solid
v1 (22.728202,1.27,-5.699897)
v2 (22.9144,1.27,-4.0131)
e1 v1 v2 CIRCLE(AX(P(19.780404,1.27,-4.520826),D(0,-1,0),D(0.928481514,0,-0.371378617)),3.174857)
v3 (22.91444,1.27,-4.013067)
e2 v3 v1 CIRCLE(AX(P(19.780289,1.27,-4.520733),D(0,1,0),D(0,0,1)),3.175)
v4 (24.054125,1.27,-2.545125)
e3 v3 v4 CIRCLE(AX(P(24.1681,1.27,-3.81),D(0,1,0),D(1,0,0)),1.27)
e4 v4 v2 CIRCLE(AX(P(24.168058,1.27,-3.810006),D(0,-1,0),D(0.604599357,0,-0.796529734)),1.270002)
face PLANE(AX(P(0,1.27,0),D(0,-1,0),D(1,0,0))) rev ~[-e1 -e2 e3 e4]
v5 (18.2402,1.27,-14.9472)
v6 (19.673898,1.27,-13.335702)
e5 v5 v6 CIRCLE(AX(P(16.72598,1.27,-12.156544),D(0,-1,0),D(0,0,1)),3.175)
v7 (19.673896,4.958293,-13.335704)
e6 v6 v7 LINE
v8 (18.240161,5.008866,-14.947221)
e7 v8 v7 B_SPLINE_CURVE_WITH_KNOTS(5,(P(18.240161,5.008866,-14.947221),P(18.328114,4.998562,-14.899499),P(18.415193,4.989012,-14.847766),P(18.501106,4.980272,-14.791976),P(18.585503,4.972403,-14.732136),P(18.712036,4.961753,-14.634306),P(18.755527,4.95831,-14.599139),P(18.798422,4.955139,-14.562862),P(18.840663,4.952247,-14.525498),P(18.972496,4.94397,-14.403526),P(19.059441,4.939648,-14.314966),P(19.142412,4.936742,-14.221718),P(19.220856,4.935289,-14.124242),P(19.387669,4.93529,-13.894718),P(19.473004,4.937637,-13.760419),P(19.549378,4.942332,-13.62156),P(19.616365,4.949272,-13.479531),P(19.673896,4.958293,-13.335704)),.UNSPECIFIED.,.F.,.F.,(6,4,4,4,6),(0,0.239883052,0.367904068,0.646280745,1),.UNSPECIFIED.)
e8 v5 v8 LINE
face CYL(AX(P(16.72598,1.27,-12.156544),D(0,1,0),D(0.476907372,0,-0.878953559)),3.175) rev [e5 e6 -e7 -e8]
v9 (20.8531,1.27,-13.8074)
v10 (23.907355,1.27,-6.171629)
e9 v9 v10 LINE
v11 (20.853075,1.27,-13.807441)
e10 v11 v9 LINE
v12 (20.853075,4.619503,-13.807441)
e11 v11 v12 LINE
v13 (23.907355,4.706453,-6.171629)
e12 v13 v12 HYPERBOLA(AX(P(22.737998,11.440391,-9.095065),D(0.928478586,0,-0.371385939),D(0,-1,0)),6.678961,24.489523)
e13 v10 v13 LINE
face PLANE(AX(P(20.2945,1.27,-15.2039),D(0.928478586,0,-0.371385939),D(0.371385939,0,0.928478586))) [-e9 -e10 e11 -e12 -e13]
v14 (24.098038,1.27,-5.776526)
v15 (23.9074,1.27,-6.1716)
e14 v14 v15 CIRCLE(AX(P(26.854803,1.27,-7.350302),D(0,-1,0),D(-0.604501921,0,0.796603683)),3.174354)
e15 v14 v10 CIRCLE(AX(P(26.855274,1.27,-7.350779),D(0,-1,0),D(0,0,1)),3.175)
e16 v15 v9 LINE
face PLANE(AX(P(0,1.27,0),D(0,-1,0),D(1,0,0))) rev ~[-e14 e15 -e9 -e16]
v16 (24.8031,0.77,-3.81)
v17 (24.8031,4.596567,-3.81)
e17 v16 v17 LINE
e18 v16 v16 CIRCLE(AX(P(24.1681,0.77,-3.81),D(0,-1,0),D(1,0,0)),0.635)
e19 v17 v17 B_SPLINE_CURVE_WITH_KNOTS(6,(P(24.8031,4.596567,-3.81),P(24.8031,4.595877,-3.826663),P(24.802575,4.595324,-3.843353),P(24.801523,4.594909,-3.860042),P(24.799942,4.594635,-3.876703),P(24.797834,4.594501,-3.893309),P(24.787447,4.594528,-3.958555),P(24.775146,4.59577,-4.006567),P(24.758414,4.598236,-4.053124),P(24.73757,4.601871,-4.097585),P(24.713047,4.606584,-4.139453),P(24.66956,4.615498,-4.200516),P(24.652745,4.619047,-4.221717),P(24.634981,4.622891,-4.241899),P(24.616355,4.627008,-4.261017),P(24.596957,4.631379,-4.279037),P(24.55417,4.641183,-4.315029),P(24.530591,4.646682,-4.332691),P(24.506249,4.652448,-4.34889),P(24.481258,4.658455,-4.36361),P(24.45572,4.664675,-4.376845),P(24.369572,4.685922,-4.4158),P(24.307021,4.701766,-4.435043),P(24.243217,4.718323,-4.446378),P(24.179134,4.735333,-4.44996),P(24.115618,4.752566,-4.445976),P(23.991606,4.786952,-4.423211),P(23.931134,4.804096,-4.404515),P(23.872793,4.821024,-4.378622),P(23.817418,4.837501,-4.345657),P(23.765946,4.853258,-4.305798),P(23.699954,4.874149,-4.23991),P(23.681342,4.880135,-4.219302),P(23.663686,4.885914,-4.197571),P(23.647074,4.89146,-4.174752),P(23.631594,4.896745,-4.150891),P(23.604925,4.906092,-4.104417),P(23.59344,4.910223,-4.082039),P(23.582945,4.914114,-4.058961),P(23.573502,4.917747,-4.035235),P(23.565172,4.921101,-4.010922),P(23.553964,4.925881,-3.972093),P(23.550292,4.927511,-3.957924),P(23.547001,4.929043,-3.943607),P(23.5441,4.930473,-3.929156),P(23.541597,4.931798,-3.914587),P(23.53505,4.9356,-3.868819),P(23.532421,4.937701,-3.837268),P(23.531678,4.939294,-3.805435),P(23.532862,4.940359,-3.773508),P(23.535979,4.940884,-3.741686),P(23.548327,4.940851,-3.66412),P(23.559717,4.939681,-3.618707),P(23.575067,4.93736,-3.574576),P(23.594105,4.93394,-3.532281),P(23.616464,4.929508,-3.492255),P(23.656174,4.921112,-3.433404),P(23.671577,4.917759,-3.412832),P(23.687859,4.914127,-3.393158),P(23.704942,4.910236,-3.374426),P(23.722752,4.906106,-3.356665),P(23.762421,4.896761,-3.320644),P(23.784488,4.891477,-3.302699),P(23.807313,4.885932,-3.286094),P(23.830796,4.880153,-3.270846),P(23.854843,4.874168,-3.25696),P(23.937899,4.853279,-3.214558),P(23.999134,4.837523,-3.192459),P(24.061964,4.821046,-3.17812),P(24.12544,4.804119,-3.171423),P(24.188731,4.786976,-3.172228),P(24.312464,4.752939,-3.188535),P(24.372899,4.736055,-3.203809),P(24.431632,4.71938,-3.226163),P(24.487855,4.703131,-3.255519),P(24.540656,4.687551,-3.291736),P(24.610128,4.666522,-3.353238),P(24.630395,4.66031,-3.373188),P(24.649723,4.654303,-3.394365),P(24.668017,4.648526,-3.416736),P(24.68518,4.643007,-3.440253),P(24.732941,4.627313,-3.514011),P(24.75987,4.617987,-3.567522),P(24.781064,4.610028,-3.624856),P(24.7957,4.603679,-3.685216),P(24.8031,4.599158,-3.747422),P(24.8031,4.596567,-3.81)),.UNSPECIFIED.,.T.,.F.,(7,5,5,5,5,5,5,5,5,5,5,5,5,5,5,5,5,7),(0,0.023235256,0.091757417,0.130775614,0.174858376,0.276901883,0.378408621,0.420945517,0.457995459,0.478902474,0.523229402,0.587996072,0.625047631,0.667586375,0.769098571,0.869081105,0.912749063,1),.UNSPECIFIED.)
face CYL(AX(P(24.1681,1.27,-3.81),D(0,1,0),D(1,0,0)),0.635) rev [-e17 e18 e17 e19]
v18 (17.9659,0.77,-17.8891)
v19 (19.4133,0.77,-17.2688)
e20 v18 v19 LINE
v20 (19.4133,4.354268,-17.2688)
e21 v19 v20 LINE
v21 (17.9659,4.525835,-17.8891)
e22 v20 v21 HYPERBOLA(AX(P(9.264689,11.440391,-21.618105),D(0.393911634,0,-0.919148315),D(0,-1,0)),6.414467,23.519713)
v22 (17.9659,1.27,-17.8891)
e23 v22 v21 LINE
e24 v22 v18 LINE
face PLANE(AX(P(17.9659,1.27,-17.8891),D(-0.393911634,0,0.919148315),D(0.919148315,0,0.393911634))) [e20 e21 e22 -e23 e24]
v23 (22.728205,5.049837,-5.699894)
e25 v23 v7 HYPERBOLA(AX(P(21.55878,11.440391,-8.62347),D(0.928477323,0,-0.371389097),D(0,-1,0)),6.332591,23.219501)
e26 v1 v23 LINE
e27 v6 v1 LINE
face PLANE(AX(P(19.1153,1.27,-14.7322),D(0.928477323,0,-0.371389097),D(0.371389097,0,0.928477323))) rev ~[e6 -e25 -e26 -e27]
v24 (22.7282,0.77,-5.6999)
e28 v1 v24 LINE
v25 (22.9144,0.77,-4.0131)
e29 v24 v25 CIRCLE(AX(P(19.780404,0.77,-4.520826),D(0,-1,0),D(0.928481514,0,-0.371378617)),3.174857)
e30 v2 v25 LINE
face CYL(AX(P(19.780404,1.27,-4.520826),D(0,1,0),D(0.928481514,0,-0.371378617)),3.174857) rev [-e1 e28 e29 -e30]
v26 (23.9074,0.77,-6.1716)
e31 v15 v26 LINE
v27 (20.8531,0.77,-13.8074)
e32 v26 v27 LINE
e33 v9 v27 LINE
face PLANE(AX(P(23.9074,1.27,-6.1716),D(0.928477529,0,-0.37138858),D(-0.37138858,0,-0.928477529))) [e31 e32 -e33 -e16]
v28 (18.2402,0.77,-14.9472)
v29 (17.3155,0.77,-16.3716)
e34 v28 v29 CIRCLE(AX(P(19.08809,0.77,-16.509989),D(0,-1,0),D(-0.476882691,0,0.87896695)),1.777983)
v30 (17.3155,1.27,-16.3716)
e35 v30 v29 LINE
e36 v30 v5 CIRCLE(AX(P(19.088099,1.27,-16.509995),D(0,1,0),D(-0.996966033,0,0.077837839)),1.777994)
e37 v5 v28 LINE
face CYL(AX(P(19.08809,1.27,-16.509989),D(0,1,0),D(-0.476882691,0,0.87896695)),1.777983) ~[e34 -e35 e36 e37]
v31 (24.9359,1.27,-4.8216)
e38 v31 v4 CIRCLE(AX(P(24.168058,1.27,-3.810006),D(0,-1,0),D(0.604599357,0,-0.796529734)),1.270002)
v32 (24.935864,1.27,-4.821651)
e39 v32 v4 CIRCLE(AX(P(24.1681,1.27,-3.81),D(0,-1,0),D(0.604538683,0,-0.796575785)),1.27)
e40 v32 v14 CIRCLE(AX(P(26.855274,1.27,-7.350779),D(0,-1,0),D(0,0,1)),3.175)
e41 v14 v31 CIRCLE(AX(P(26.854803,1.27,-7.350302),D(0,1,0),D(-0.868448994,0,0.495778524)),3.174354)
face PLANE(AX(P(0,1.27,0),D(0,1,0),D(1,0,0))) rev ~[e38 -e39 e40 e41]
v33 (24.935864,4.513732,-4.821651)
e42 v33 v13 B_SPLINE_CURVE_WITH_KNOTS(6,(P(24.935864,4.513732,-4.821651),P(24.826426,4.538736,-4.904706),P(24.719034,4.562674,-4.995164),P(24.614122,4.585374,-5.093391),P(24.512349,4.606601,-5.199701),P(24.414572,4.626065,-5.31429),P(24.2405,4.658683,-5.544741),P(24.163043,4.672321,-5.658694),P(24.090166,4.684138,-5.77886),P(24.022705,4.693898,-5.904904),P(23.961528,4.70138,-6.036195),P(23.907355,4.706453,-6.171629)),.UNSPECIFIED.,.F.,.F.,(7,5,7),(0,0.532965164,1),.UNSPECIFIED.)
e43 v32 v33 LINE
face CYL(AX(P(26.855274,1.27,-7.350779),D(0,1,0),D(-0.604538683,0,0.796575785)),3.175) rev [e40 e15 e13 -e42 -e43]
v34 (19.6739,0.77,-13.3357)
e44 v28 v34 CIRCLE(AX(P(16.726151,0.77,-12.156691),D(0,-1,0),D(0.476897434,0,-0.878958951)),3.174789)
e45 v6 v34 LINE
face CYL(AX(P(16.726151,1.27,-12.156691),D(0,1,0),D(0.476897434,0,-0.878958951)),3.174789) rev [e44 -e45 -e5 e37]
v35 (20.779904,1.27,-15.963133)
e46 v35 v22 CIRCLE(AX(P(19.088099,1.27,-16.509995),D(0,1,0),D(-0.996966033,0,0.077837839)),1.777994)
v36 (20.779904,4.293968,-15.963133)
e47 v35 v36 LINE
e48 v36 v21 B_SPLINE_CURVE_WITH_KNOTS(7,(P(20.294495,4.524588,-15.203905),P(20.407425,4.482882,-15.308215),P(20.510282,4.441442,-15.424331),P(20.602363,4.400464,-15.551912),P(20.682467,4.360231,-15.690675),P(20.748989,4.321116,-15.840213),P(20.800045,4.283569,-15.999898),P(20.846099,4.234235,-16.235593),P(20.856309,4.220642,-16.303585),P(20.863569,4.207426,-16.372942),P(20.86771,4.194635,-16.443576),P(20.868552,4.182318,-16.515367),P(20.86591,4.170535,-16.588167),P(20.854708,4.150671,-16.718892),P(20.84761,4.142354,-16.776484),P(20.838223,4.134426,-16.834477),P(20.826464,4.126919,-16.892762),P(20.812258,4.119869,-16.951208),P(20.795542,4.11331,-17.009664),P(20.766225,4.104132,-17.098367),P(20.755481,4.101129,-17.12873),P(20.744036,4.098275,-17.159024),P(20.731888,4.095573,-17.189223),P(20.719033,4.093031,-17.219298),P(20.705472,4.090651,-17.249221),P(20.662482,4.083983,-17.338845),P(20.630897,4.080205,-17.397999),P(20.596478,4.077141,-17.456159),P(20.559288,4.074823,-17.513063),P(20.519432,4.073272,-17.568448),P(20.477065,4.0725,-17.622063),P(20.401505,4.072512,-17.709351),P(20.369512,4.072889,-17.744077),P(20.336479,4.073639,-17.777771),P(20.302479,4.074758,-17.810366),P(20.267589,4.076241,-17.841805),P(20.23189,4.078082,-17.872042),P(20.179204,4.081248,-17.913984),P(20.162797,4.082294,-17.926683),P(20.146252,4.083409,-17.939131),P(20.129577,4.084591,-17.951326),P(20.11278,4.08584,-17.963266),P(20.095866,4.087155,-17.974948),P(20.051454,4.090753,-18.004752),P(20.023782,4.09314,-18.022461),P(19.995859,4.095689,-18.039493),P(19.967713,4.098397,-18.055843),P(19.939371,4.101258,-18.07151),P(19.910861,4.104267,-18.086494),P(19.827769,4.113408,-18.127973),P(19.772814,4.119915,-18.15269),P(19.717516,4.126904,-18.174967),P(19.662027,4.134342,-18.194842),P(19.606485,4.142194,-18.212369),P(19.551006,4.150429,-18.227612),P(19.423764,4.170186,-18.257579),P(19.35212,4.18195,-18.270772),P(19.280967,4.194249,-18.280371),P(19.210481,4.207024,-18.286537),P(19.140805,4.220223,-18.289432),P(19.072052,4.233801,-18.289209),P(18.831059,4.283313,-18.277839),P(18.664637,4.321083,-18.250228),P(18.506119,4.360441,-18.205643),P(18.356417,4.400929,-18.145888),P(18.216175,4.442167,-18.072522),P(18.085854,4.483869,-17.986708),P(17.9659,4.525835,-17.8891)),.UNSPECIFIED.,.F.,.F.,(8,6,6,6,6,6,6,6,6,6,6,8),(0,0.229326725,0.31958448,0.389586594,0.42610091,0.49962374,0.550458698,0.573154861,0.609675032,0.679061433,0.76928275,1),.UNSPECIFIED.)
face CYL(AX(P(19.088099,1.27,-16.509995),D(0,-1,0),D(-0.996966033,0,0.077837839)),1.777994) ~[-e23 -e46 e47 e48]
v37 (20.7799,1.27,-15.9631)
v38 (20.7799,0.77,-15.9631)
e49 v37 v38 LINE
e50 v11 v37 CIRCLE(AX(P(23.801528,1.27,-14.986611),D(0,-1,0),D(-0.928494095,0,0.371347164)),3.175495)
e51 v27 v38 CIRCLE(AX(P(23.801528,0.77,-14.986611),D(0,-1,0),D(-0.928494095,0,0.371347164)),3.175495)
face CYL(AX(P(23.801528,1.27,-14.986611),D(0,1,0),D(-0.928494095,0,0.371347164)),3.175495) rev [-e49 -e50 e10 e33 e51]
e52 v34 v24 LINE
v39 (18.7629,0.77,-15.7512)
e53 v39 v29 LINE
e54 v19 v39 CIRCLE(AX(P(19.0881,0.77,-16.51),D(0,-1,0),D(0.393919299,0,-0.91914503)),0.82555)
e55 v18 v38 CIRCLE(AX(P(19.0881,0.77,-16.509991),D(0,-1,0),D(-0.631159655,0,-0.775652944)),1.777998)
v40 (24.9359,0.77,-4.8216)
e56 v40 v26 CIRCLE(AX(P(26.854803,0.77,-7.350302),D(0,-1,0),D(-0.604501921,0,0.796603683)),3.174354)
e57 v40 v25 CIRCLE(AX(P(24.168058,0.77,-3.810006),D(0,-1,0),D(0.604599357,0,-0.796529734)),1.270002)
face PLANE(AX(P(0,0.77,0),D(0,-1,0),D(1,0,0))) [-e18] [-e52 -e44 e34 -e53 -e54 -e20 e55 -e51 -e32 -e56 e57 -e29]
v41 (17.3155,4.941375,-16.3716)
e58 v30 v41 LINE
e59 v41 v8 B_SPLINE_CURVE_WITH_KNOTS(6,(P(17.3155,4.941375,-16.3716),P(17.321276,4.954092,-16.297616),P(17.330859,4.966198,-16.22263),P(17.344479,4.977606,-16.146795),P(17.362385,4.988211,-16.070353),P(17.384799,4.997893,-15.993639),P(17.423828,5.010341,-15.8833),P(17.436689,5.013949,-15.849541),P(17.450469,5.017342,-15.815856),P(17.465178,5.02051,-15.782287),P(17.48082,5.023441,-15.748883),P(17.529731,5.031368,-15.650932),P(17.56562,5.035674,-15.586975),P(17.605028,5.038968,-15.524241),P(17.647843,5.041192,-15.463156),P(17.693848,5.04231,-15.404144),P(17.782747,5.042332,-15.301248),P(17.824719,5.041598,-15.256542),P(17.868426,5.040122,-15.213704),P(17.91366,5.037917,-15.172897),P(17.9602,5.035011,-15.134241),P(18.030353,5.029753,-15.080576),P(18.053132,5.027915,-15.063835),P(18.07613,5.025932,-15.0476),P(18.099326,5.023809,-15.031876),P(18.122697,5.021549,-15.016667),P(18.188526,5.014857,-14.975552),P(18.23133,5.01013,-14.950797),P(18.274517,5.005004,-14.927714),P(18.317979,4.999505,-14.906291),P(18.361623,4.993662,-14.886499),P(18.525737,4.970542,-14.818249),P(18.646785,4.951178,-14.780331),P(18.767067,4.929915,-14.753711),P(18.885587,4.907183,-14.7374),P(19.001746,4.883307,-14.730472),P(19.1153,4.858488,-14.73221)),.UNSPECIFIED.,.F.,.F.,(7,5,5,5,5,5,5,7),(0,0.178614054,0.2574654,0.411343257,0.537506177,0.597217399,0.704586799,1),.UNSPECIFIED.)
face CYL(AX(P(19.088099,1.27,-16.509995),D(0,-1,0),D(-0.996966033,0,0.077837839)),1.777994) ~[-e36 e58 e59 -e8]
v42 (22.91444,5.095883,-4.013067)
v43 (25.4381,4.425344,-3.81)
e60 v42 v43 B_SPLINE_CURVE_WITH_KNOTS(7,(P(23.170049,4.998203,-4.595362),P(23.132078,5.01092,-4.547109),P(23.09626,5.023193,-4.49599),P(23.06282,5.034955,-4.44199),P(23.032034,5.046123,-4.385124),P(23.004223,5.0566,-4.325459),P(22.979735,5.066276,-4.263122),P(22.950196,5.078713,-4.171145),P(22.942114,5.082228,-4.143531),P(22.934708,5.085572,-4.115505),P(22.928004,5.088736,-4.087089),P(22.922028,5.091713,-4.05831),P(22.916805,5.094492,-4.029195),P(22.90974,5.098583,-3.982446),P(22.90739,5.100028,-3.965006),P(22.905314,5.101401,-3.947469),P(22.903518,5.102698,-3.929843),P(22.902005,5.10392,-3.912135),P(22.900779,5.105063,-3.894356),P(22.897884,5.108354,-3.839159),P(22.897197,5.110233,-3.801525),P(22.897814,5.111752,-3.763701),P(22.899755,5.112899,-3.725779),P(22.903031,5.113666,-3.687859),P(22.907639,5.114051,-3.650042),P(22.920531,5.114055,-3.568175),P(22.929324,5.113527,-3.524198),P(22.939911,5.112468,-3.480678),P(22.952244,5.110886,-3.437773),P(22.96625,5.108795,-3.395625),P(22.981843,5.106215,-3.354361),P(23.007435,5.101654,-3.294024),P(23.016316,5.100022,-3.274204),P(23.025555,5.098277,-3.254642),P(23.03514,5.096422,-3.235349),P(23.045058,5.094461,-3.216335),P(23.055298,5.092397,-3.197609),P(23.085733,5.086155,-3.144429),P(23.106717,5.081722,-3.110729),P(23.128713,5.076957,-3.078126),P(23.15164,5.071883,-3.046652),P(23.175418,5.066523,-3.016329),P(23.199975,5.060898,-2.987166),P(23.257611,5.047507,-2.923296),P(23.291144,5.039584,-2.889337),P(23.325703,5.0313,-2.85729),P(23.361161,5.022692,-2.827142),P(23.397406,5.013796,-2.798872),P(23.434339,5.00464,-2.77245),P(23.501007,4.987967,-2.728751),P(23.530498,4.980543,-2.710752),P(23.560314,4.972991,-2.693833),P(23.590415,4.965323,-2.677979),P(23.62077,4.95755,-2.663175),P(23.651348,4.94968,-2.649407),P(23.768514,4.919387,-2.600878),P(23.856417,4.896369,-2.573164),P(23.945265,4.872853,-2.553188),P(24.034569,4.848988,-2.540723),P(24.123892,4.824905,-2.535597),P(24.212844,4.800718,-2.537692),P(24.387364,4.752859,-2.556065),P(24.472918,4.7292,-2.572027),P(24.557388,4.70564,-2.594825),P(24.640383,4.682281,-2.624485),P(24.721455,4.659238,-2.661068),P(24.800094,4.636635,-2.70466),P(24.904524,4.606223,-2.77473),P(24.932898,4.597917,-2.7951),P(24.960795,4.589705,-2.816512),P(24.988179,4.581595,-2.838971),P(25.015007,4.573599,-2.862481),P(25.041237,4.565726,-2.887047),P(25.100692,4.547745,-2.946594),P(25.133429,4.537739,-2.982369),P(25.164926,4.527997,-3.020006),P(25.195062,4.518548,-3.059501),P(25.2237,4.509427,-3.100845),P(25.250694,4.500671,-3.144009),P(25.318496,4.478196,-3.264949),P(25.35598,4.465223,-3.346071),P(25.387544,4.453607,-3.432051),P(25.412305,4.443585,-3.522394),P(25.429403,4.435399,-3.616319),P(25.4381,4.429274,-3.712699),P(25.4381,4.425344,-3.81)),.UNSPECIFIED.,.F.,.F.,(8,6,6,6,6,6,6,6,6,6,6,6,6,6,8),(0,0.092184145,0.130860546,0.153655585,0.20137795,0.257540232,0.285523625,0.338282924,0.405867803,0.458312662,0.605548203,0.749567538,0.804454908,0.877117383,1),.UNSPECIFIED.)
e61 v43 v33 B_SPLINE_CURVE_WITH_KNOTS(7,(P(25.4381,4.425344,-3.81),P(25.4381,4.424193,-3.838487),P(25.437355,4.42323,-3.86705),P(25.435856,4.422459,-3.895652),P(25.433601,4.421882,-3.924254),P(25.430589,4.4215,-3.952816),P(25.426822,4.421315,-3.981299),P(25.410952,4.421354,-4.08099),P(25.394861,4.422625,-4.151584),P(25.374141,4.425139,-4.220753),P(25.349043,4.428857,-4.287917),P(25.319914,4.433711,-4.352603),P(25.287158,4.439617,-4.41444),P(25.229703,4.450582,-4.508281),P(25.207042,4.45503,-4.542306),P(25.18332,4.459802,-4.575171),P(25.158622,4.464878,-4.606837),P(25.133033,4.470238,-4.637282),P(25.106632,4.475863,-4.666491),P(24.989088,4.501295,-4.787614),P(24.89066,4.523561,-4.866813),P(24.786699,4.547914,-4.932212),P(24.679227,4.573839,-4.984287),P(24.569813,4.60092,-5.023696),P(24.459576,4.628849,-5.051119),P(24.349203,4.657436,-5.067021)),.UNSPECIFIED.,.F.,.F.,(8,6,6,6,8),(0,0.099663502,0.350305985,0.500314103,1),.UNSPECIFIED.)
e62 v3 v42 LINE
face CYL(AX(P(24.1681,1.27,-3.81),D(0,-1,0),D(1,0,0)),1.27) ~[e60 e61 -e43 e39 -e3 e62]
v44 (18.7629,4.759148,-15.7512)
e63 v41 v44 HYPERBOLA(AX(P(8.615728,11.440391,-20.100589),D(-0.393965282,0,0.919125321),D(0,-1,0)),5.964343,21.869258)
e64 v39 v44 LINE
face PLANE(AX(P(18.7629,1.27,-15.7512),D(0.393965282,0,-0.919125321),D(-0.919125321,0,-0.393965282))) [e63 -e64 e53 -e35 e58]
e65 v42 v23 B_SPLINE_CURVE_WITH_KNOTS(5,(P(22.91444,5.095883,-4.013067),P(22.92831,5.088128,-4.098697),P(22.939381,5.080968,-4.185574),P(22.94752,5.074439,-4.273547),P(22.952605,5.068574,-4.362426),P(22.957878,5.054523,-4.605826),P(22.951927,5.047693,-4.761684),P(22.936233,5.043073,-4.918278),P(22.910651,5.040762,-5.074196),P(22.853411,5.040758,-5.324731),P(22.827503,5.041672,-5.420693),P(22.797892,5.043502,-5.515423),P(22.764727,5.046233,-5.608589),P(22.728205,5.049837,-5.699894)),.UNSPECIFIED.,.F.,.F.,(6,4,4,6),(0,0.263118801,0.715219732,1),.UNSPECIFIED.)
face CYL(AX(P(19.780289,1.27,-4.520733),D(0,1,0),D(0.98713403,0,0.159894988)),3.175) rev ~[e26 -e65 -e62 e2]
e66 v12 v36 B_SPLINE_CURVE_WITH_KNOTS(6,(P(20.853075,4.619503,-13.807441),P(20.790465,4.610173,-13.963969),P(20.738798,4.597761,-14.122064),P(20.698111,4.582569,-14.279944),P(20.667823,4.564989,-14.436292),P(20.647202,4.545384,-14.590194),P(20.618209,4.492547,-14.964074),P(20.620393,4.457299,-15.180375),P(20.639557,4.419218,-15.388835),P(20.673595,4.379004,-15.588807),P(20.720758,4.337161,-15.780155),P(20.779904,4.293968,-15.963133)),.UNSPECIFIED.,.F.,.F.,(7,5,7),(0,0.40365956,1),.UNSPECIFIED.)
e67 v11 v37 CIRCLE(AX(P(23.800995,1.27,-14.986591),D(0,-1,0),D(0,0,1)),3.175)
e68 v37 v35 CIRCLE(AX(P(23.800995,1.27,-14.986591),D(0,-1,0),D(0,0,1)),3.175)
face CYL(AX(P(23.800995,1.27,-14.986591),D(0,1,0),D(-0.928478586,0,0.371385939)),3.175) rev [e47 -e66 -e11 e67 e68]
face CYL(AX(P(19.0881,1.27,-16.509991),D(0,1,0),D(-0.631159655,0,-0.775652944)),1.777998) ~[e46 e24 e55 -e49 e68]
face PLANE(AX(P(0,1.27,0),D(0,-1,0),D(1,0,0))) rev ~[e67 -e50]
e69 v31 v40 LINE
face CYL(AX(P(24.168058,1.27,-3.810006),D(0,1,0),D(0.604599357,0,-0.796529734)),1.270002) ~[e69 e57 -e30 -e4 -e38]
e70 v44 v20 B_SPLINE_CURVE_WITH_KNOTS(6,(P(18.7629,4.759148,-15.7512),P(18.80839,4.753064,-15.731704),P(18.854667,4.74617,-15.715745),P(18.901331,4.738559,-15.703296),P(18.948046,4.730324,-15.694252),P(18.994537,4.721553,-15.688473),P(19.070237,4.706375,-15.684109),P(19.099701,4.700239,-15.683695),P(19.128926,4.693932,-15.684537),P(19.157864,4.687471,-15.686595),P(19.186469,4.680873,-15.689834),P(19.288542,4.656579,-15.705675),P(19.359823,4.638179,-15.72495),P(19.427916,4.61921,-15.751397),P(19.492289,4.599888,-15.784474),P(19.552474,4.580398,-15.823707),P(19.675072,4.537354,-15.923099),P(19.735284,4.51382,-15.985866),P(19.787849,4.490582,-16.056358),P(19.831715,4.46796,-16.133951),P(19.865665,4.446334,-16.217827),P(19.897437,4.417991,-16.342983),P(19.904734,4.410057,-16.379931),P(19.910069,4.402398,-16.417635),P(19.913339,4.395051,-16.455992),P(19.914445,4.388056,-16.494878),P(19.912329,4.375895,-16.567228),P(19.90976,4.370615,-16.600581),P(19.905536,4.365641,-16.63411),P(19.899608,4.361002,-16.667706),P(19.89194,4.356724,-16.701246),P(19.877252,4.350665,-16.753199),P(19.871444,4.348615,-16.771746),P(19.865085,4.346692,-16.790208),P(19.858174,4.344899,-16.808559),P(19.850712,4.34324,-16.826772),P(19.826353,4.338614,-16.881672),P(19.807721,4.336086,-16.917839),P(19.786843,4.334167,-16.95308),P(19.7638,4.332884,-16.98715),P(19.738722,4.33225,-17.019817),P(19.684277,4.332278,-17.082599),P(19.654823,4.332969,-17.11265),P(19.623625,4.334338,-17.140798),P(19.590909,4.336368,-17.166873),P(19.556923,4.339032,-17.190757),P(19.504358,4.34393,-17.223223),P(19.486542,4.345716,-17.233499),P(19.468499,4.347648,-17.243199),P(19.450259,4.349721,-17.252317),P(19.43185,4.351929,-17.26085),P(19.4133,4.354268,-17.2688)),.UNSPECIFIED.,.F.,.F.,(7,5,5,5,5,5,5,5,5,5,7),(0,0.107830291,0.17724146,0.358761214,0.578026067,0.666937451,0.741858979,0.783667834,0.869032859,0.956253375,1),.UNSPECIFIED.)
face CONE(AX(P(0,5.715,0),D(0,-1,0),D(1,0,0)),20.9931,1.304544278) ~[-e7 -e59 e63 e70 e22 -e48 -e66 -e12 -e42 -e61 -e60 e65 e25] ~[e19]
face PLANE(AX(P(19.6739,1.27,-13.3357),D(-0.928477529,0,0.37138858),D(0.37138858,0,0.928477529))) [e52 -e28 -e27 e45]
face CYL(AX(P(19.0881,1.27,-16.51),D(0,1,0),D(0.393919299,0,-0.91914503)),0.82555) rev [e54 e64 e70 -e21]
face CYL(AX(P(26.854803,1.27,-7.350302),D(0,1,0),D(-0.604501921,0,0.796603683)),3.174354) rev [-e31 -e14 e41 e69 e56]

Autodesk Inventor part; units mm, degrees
ref_plane "YZ Plane" through (0, 0, 0) normal (1, 0, 0) x (0, 1, 0)
ref_plane "XZ Plane" through (0, 0, 0) normal (0, 1, 0) x (-1, 0, 0)
sketch "Sketch1" plane through (0, 0, 0) normal (0, 0, 1) x (1, 0, 0)
  line L0 (0, 0) -> (0, 8.6646) construction
  line L1 (20.9931, 1.27) -> (20.9931, 5.715)
  line L2 (20.9931, 5.715) -> (27.9781, 3.81)
  line L3 (27.9781, 3.81) -> (27.9781, 0)
  line L4 (27.9781, 0) -> (20.9931, 0)
  line L5 (20.9931, 1.27) -> (18.4531, 1.27)
  line L6 (18.4531, 1.27) -> (18.4531, 0)
  line L7 (18.4531, 0) -> (20.9931, 0)
  dimension "d0" = 20.9931
  dimension "d1" = 4.445
  dimension "d2" = 1.27
  dimension "d3" = 2.54
  dimension "d4" = 3.81
  dimension "d5" = 6.985
revolve "Revolution1" add sketch "Sketch1" angle 360 about axis through (0, 0, 0) along (0, 1, 0)
ref_plane "Work Plane1" through (0, 3.81, 0) normal (0, 1, 0) x (1, 0, 0)
sketch "Sketch2" plane through (0, 0, 0) normal (0, -1, 0) x (1, 0, 0)
  line L0 (0, 0) -> (-45.8206, 0) construction
  circle A0 centre (0, 0) radius 27.9781 projected
  line L1 (-27.6227, 4.445) -> (-30.5181, 2.54)
  line L2 (-30.5181, 2.54) -> (-30.5181, -2.54)
  line L3 (-30.5181, -2.54) -> (-27.6227, -4.445)
  dimension "d7" = 2.54
  dimension "d8" = 8.89
  dimension "d9" = 5.08
extrude "Extrusion1" add sketch "Sketch2" against normal up to surface (3.81 mm away) contours A0 L3 L2 L1
pattern_circular "Circular Pattern1" count 12 over 360 about axis through (0, 1.905, 0) along (0, -1, 0) of "Extrusion1"
sketch "Sketch3" plane through (0, 1.27, 0) normal (0, 1, 0) x (1, 0, 0)
  circle A0 centre (0, 0) radius 18.4531 projected
  circle A1 centre (0, 0) radius 18.4531 projected
  circle A2 centre (0, 0) radius 20.9931 projected
  circle A3 centre (0, 0) radius 20.9931 projected
  arc A4 (-26.1445, 9.9619) -> (-27.6227, 4.445) centre (0, 0) ccw projected
  arc A5 (-27.6227, 4.445) -> (-27.6227, -4.445) centre (0, 0) ccw projected
  arc A6 (-27.6227, -4.445) -> (-26.1445, -9.9619) centre (0, 0) ccw projected
  arc A7 (-26.1445, -9.9619) -> (-21.6995, -17.6609) centre (0, 0) ccw projected
  arc A8 (-21.6995, -17.6609) -> (-17.6609, -21.6995) centre (0, 0) ccw projected
  arc A9 (-17.6609, -21.6995) -> (-9.9619, -26.1445) centre (0, 0) ccw projected
  arc A10 (-9.9619, -26.1445) -> (-4.445, -27.6227) centre (0, 0) ccw projected
  arc A11 (-4.445, -27.6227) -> (4.445, -27.6227) centre (0, 0) ccw projected
  arc A12 (4.445, -27.6227) -> (9.9619, -26.1445) centre (0, 0) ccw projected
  arc A13 (9.9619, -26.1445) -> (17.6609, -21.6995) centre (0, 0) ccw projected
  arc A14 (17.6609, -21.6995) -> (21.6995, -17.6609) centre (0, 0) ccw projected
  arc A15 (21.6995, -17.6609) -> (26.1445, -9.9619) centre (0, 0) ccw projected
  arc A16 (26.1445, -9.9619) -> (27.6227, -4.445) centre (0, 0) ccw projected
  arc A17 (27.6227, -4.445) -> (27.6227, 4.445) centre (0, 0) ccw projected
  arc A18 (27.6227, 4.445) -> (26.1445, 9.9619) centre (0, 0) ccw projected
  arc A19 (26.1445, 9.9619) -> (21.6995, 17.6609) centre (0, 0) ccw projected
  arc A20 (21.6995, 17.6609) -> (17.6609, 21.6995) centre (0, 0) ccw projected
  arc A21 (17.6609, 21.6995) -> (9.9619, 26.1445) centre (0, 0) ccw projected
  arc A22 (9.9619, 26.1445) -> (4.445, 27.6227) centre (0, 0) ccw projected
  arc A23 (4.445, 27.6227) -> (-4.445, 27.6227) centre (0, 0) ccw projected
  arc A24 (-4.445, 27.6227) -> (-9.9619, 26.1445) centre (0, 0) ccw projected
  arc A25 (-9.9619, 26.1445) -> (-17.6609, 21.6995) centre (0, 0) ccw projected
  arc A26 (-17.6609, 21.6995) -> (-21.6995, 17.6609) centre (0, 0) ccw projected
  arc A27 (-21.6995, 17.6609) -> (-26.1445, 9.9619) centre (0, 0) ccw projected
  circle A28 centre (0, 0) radius 22.8981
  spline S0 degree 2 poles (-20.4865, -10.8927) (-20.2314, -10.7347) (-20.0767, -10.9844) knots 0 0 0 1 1 1
  spline S1 degree 2 poles (-20.0767, -10.9844) (-19.9219, -11.2342) (-20.177, -11.3922) knots 0 0 0 1 1 1
  line L0 (-20.177, -11.3922) -> (-22.4984, -12.8306)
  line L1 (-22.4984, -12.8306) -> (-21.0657, -12.8234)
  spline S2 degree 2 poles (-21.0657, -12.8234) (-20.8353, -12.8371) (-20.7343, -13.0001) knots 0 0 0 1 1 1
  spline S3 degree 2 poles (-20.7343, -13.0001) (-20.6366, -13.1578) (-20.7235, -13.3463) knots 0 0 0 1 1 1
  line L2 (-20.7235, -13.3463) -> (-21.4078, -14.6436)
  line L3 (-21.4078, -14.6436) -> (-19.0627, -13.1905)
  spline S4 degree 2 poles (-19.0627, -13.1905) (-18.8077, -13.0325) (-18.6529, -13.2822) knots 0 0 0 1 1 1
  spline S5 degree 2 poles (-18.6529, -13.2822) (-18.4949, -13.5373) (-18.7499, -13.6953) knots 0 0 0 1 1 1
  line L4 (-18.7499, -13.6953) -> (-21.6577, -15.497)
  spline S6 degree 2 poles (-21.6577, -15.497) (-21.9259, -15.6631) (-22.0936, -15.3923) knots 0 0 0 1 1 1
  spline S7 degree 2 poles (-22.0936, -15.3923) (-22.2093, -15.2057) (-22.1246, -15.0076) knots 0 0 0 1 1 1
  line L5 (-22.1246, -15.0076) -> (-21.3965, -13.3994)
  line L6 (-21.3965, -13.3994) -> (-23.1279, -13.3298)
  spline S8 degree 2 poles (-23.1279, -13.3298) (-23.414, -13.3142) (-23.5248, -13.1355) knots 0 0 0 1 1 1
  spline S9 degree 2 poles (-23.5248, -13.1355) (-23.5932, -13.025) (-23.5178, -12.7709) (-23.3942, -12.6944) knots 0 0 0 1 2 2 2
  line L7 (-23.3942, -12.6944) -> (-20.4865, -10.8927)
  line L8 (-21.4115, -8.1592) -> (-20.6563, -9.942)
  line L9 (-20.6563, -9.942) -> (-23.6894, -11.2268)
  line L10 (-23.6894, -11.2268) -> (-24.4445, -9.444)
  spline S10 degree 2 poles (-24.4445, -9.444) (-24.5591, -9.1734) (-24.2914, -9.06) knots 0 0 0 1 1 1
  spline S11 degree 2 poles (-24.2914, -9.06) (-24.0209, -8.9454) (-23.9063, -9.216) knots 0 0 0 1 1 1
  line L11 (-23.9063, -9.216) -> (-23.3743, -10.4719)
  line L12 (-23.3743, -10.4719) -> (-22.8189, -10.2367)
  line L13 (-22.8189, -10.2367) -> (-23.3171, -9.0605)
  spline S12 degree 2 poles (-23.3171, -9.0605) (-23.4293, -8.7956) (-23.1616, -8.6822) knots 0 0 0 1 1 1
  spline S13 degree 2 poles (-23.1616, -8.6822) (-22.8854, -8.5652) (-22.7732, -8.8301) knots 0 0 0 1 1 1
  line L14 (-22.7732, -8.8301) -> (-22.275, -10.0063)
  line L15 (-22.275, -10.0063) -> (-21.4235, -9.6456)
  line L16 (-21.4235, -9.6456) -> (-21.9554, -8.3897)
  spline S14 degree 2 poles (-21.9554, -8.3897) (-22.07, -8.1191) (-21.8023, -8.0057) knots 0 0 0 1 1 1
  spline S15 degree 2 poles (-21.8023, -8.0057) (-21.5261, -7.8887) (-21.4115, -8.1592) knots 0 0 0 1 1 1
  spline S16 degree 2 poles (-22.8056, -5.2377) (-22.4484, -5.3877) (-22.1014, -5.7752) (-22.015, -6.0818) knots 0 0 0 1 2 2 2
  spline S17 degree 2 poles (-22.015, -6.0818) (-21.8732, -6.5849) (-22.313, -7.0655) knots 0 0 0 1 1 1
  spline S18 degree 2 poles (-22.313, -7.0655) (-22.5945, -7.4918) (-23.3387, -7.7016) knots 0 0 0 1 1 1
  spline S19 degree 2 poles (-23.3387, -7.7016) (-24.1544, -7.9314) (-24.69, -7.6614) knots 0 0 0 1 1 1
  spline S20 degree 2 poles (-24.69, -7.6614) (-25.1213, -7.4423) (-25.2479, -6.9928) knots 0 0 0 1 1 1
  spline S21 degree 2 poles (-25.2479, -6.9928) (-25.3444, -6.6505) (-25.2198, -6.1462) (-24.9563, -5.8953) knots 0 0 0 1 2 2 2
  spline S22 degree 2 poles (-24.9563, -5.8953) (-24.9018, -5.8381) (-24.8303, -5.818) knots 0 0 0 1 1 1
  spline S23 degree 2 poles (-24.8303, -5.818) (-24.7112, -5.7844) (-24.4997, -5.908) (-24.4678, -6.0211) knots 0 0 0 1 2 2 2
  spline S24 degree 2 poles (-24.4678, -6.0211) (-24.4242, -6.1759) (-24.5806, -6.3164) knots 0 0 0 1 1 1
  spline S25 degree 2 poles (-24.5806, -6.3164) (-24.7683, -6.517) (-24.6827, -6.8207) knots 0 0 0 1 1 1
  spline S26 degree 2 poles (-24.6827, -6.8207) (-24.6139, -7.0648) (-24.3475, -7.1664) knots 0 0 0 1 1 1
  spline S27 degree 2 poles (-24.3475, -7.1664) (-24.0157, -7.2947) (-23.4948, -7.1479) knots 0 0 0 1 1 1
  spline S28 degree 2 poles (-23.4948, -7.1479) (-23.0095, -7.0111) (-22.5148, -6.4861) (-22.587, -6.2301) knots 0 0 0 1 2 2 2
  spline S29 degree 2 poles (-22.587, -6.2301) (-22.6767, -5.9116) (-22.9983, -5.774) knots 0 0 0 1 1 1
  spline S30 degree 2 poles (-22.9983, -5.774) (-23.1807, -5.7194) (-23.2168, -5.5914) knots 0 0 0 1 1 1
  spline S31 degree 2 poles (-23.2168, -5.5914) (-23.2487, -5.4783) (-23.1196, -5.2523) (-23.0064, -5.2204) knots 0 0 0 1 2 2 2
  spline S32 degree 2 poles (-23.0064, -5.2204) (-22.9082, -5.1928) (-22.8056, -5.2377) knots 0 0 0 1 1 1
  spline S33 degree 2 poles (-23.0841, -2.194) (-22.7873, -2.1504) (-22.7455, -2.435) knots 0 0 0 1 1 1
  spline S34 degree 2 poles (-22.7455, -2.435) (-22.7028, -2.7257) (-22.9996, -2.7693) knots 0 0 0 1 1 1
  line L17 (-22.9996, -2.7693) -> (-24.1563, -2.9392)
  line L18 (-24.1563, -2.9392) -> (-23.9877, -4.0867)
  line L19 (-23.9877, -4.0867) -> (-22.8311, -3.9168)
  spline S35 degree 2 poles (-22.8311, -3.9168) (-22.5342, -3.8732) (-22.4915, -4.1639) knots 0 0 0 1 1 1
  spline S36 degree 2 poles (-22.4915, -4.1639) (-22.4488, -4.4546) (-22.7456, -4.4982) knots 0 0 0 1 1 1
  line L20 (-22.7456, -4.4982) -> (-25.4599, -4.8969)
  spline S37 degree 2 poles (-25.4599, -4.8969) (-25.7536, -4.9401) (-25.7963, -4.6494) knots 0 0 0 1 1 1
  spline S38 degree 2 poles (-25.7963, -4.6494) (-25.839, -4.3587) (-25.5453, -4.3155) knots 0 0 0 1 1 1
  line L21 (-25.5453, -4.3155) -> (-24.5722, -4.1726)
  line L22 (-24.5722, -4.1726) -> (-24.7408, -3.0251)
  line L23 (-24.7408, -3.0251) -> (-25.7139, -3.168)
  spline S39 degree 2 poles (-25.7139, -3.168) (-26.0076, -3.2112) (-26.0503, -2.9205) knots 0 0 0 1 1 1
  spline S40 degree 2 poles (-26.0503, -2.9205) (-26.0921, -2.6359) (-25.7984, -2.5928) knots 0 0 0 1 1 1
  line L24 (-25.7984, -2.5928) -> (-23.0841, -2.194)
  spline S41 degree 2 poles (-23.2836, 1.208) (-23.2064, 1.2364) (-23.1539, 1.2367) knots 0 0 0 1 1 1
  spline S42 degree 2 poles (-23.1539, 1.2367) (-23.0302, 1.2375) (-22.8651, 1.053) (-22.8643, 0.9323) knots 0 0 0 1 2 2 2
  spline S43 degree 2 poles (-22.8643, 0.9323) (-22.8631, 0.7437) (-23.042, 0.6683) knots 0 0 0 1 1 1
  line L25 (-23.042, 0.6683) -> (-23.4523, 0.5049)
  line L26 (-23.4523, 0.5049) -> (-23.4439, -0.8127)
  line L27 (-23.4439, -0.8127) -> (-23.0192, -0.9677)
  spline S44 degree 2 poles (-23.0192, -0.9677) (-22.8518, -1.0347) (-22.8505, -1.2295) knots 0 0 0 1 1 1
  spline S45 degree 2 poles (-22.8505, -1.2295) (-22.8498, -1.3439) (-23.0064, -1.5305) (-23.1301, -1.5313) knots 0 0 0 1 2 2 2
  spline S46 degree 2 poles (-23.1301, -1.5313) (-23.1826, -1.5316) (-23.2322, -1.5134) knots 0 0 0 1 1 1
  line L28 (-23.2322, -1.5134) -> (-26.0565, -0.4767)
  spline S47 degree 2 poles (-26.0565, -0.4767) (-26.2212, -0.3571) (-26.2222, -0.1963) knots 0 0 0 1 1 1
  spline S48 degree 2 poles (-26.2222, -0.1963) (-26.2233, -0.0262) (-26.0632, 0.0924) knots 0 0 0 1 1 1
  line L29 (-26.0632, 0.0924) -> (-23.2836, 1.208)
  line L30 (-24.0233, 0.3126) -> (-25.2852, -0.1749)
  line L31 (-25.2852, -0.1749) -> (-24.0173, -0.6307)
  line L32 (-24.0173, -0.6307) -> (-24.0233, 0.3126)
  spline S49 degree 2 poles (-22.7917, 4.2665) (-22.4883, 4.2255) (-22.5223, 3.9742) knots 0 0 0 1 1 1
  spline S50 degree 2 poles (-22.5223, 3.9742) (-22.5451, 3.8056) (-22.7963, 3.7022) knots 0 0 0 1 1 1
  line L33 (-22.7963, 3.7022) -> (-24.9996, 2.6644)
  line L34 (-24.9996, 2.6644) -> (-23.038, 2.3991)
  spline S51 degree 2 poles (-23.038, 2.3991) (-22.7407, 2.3589) (-22.7793, 2.0739) knots 0 0 0 1 1 1
  spline S52 degree 2 poles (-22.7793, 2.0739) (-22.8178, 1.7888) (-23.1151, 1.8291) knots 0 0 0 1 1 1
  line L35 (-23.1151, 1.8291) -> (-25.8582, 2.2)
  spline S53 degree 2 poles (-25.8582, 2.2) (-26.1463, 2.239) (-26.109, 2.5148) knots 0 0 0 1 1 1
  spline S54 degree 2 poles (-26.109, 2.5148) (-26.0867, 2.6803) (-25.9475, 2.6709) knots 0 0 0 1 1 1
  line L36 (-25.9475, 2.6709) -> (-23.6718, 3.805)
  line L37 (-23.6718, 3.805) -> (-25.5813, 4.0632)
  spline S55 degree 2 poles (-25.5813, 4.0632) (-25.8755, 4.103) (-25.837, 4.3881) knots 0 0 0 1 1 1
  spline S56 degree 2 poles (-25.837, 4.3881) (-25.7984, 4.6731) (-25.5042, 4.6333) knots 0 0 0 1 1 1
  line L38 (-25.5042, 4.6333) -> (-22.7917, 4.2665)
  spline S57 degree 2 poles (-22.4654, 5.6266) (-22.1736, 5.5569) (-22.2419, 5.2711) knots 0 0 0 1 1 1
  spline S58 degree 2 poles (-22.2419, 5.2711) (-22.3101, 4.9853) (-22.6019, 5.055) knots 0 0 0 1 1 1
  line L39 (-22.6019, 5.055) -> (-25.2702, 5.6925)
  spline S59 degree 2 poles (-25.2702, 5.6925) (-25.559, 5.7615) (-25.4907, 6.0473) knots 0 0 0 1 1 1
  spline S60 degree 2 poles (-25.4907, 6.0473) (-25.4224, 6.3331) (-25.1336, 6.2641) knots 0 0 0 1 1 1
  line L40 (-25.1336, 6.2641) -> (-22.4654, 5.6266)
  spline S61 degree 2 poles (-21.7348, 8.6674) (-21.5264, 8.3409) (-21.4615, 7.8248) (-21.5649, 7.5235) knots 0 0 0 1 2 2 2
  spline S62 degree 2 poles (-21.5649, 7.5235) (-21.7346, 7.0291) (-22.3696, 6.8841) knots 0 0 0 1 1 1
  spline S63 degree 2 poles (-22.3696, 6.8841) (-22.8437, 6.6936) (-23.5751, 6.9445) knots 0 0 0 1 1 1
  spline S64 degree 2 poles (-23.5751, 6.9445) (-24.3766, 7.2196) (-24.6635, 7.7463) knots 0 0 0 1 1 1
  spline S65 degree 2 poles (-24.6635, 7.7463) (-24.8935, 8.1719) (-24.7419, 8.6136) knots 0 0 0 1 1 1
  spline S66 degree 2 poles (-24.7419, 8.6136) (-24.6265, 8.95) (-24.2371, 9.2938) (-23.8777, 9.3503) knots 0 0 0 1 2 2 2
  spline S67 degree 2 poles (-23.8777, 9.3503) (-23.8003, 9.3663) (-23.7301, 9.3422) knots 0 0 0 1 1 1
  spline S68 degree 2 poles (-23.7301, 9.3422) (-23.6131, 9.3021) (-23.5094, 9.0801) (-23.5475, 8.9689) knots 0 0 0 1 2 2 2
  spline S69 degree 2 poles (-23.5475, 8.9689) (-23.5997, 8.8168) (-23.8083, 8.7903) knots 0 0 0 1 1 1
  spline S70 degree 2 poles (-23.8083, 8.7903) (-24.0768, 8.732) (-24.1792, 8.4336) knots 0 0 0 1 1 1
  spline S71 degree 2 poles (-24.1792, 8.4336) (-24.2615, 8.1937) (-24.1002, 7.9585) knots 0 0 0 1 1 1
  spline S72 degree 2 poles (-24.1002, 7.9585) (-23.9003, 7.6643) (-23.3884, 7.4887) knots 0 0 0 1 1 1
  spline S73 degree 2 poles (-23.3884, 7.4887) (-22.9115, 7.3251) (-22.206, 7.4754) (-22.1197, 7.7269) knots 0 0 0 1 2 2 2
  spline S74 degree 2 poles (-22.1197, 7.7269) (-22.0123, 8.04) (-22.1984, 8.336) knots 0 0 0 1 1 1
  spline S75 degree 2 poles (-22.1984, 8.336) (-22.3174, 8.4847) (-22.2743, 8.6105) knots 0 0 0 1 1 1
  spline S76 degree 2 poles (-22.2743, 8.6105) (-22.2361, 8.7217) (-22.0014, 8.8341) (-21.8902, 8.7959) knots 0 0 0 1 2 2 2
  spline S77 degree 2 poles (-21.8902, 8.7959) (-21.7937, 8.7628) (-21.7348, 8.6674) knots 0 0 0 1 1 1
  spline S78 degree 2 poles (-20.1702, 11.694) (-20.0886, 11.684) (-20.0417, 11.6603) knots 0 0 0 1 1 1
  spline S79 degree 2 poles (-20.0417, 11.6603) (-19.9312, 11.6046) (-19.8684, 11.3651) (-19.9228, 11.2574) knots 0 0 0 1 2 2 2
  spline S80 degree 2 poles (-19.9228, 11.2574) (-20.0077, 11.0889) (-20.2013, 11.1035) knots 0 0 0 1 1 1
  line L41 (-20.2013, 11.1035) -> (-20.641, 11.1451)
  line L42 (-20.641, 11.1451) -> (-21.2344, 9.9688)
  line L43 (-21.2344, 9.9688) -> (-20.9272, 9.6371)
  spline S81 degree 2 poles (-20.9272, 9.6371) (-20.8087, 9.5011) (-20.8965, 9.3272) knots 0 0 0 1 1 1
  spline S82 degree 2 poles (-20.8965, 9.3272) (-20.948, 9.225) (-21.1724, 9.1304) (-21.2829, 9.1861) knots 0 0 0 1 2 2 2
  spline S83 degree 2 poles (-21.2829, 9.1861) (-21.3298, 9.2098) (-21.3656, 9.2486) knots 0 0 0 1 1 1
  line L44 (-21.3656, 9.2486) -> (-23.4063, 11.4593)
  spline S84 degree 2 poles (-23.4063, 11.4593) (-23.4983, 11.6408) (-23.4258, 11.7844) knots 0 0 0 1 1 1
  spline S85 degree 2 poles (-23.4258, 11.7844) (-23.3492, 11.9363) (-23.1527, 11.9688) knots 0 0 0 1 1 1
  line L45 (-23.1527, 11.9688) -> (-20.1702, 11.694)
  line L46 (-21.2369, 11.2344) -> (-22.5822, 11.3761)
  line L47 (-22.5822, 11.3761) -> (-21.6617, 10.3922)
  line L48 (-21.6617, 10.3922) -> (-21.2369, 11.2344)
  line L49 (-18.3775, 13.6927) -> (-19.469, 12.0936)
  line L50 (-19.469, 12.0936) -> (-21.9443, 13.7831)
  spline S86 degree 2 poles (-21.9443, 13.7831) (-22.1896, 13.9505) (-22.0274, 14.188) knots 0 0 0 1 1 1
  spline S87 degree 2 poles (-22.0274, 14.188) (-21.867, 14.4231) (-21.6218, 14.2557) knots 0 0 0 1 1 1
  line L51 (-21.6218, 14.2557) -> (-19.6343, 12.8992)
  line L52 (-19.6343, 12.8992) -> (-18.8654, 14.0258)
  spline S88 degree 2 poles (-18.8654, 14.0258) (-18.6998, 14.2684) (-18.4597, 14.1045) knots 0 0 0 1 1 1
  spline S89 degree 2 poles (-18.4597, 14.1045) (-18.2119, 13.9354) (-18.3775, 13.6927) knots 0 0 0 1 1 1
  dimension "d16" = 1.905
extrude "Extrusion2" cut sketch "Sketch3" along normal blind 25.4 contours S5 L4 S6 S7 L5 L6 S8 S9 L7 S0 A28 S1 L0 L1 S2 S3 L2 L3 S4 | L8 L9 L10 S10 S11 L11 L12 L13 S12 S13 L14 L15 L16 S14 S15 | L49 L50 S86 S87 L51 L52 S88 S89 | A28 S0 S1 | S79 S80 A28 | A28 S80 L41 L42 L43 S81 S82 S83 L44 S84 S85 L45 S78 S79 | S17 S18 S19 S20 S21 S22 S23 S24 S25 S26 S27 S28 S29 S30 S31 S32 S16 A28 | A28 S16 S17 | S81 S82 A28 | S36 L20 S37 S38 L21 L22 L23 S39 S40 L24 S33 A28 S34 L17 L18 L19 S35 | A28 S35 S36 | S61 S62 A28 | A28 S62 S63 S64 S65 S66 S67 S68 S69 S70 S71 S72 S73 S74 S75 S76 S77 S61 | A28 S33 S34 | S57 S58 A28 | A28 S58 L39 S59 S60 L40 S57 | S45 S46 L28 S47 S48 L29 S41 S42 A28 S43 L25 L26 L27 S44 | A28 S44 S45 | S49 S50 A28 | A28 S50 L33 L34 S51 S52 L35 S53 S54 L36 L37 S55 S56 L38 S49 | A28 S42 S43 | S51 S52 A28
sketch "Sketch4" plane through (0, 1.27, 0) normal (0, 1, 0) x (1, 0, 0)
  line L0 (-22.7963, 3.7022) -> (-24.9996, 2.6644) projected
  line L1 (-24.9996, 2.6644) -> (-23.038, 2.3991) projected
  line L2 (-23.1151, 1.8291) -> (-25.8582, 2.2) projected
  line L3 (-25.9475, 2.6709) -> (-23.6718, 3.805) projected
  line L4 (-23.6718, 3.805) -> (-25.5813, 4.0632) projected
  line L5 (-25.5042, 4.6333) -> (-22.7917, 4.2665) projected
  line L6 (-23.042, 0.6683) -> (-23.4523, 0.5049) projected
  line L7 (-23.4523, 0.5049) -> (-23.4439, -0.8127) projected
  line L8 (-23.4439, -0.8127) -> (-23.0192, -0.9677) projected
  line L9 (-23.2322, -1.5134) -> (-26.0565, -0.4767) projected
  line L10 (-26.0632, 0.0924) -> (-23.2836, 1.208) projected
  line L11 (-20.177, -11.3922) -> (-22.4984, -12.8306) projected
  line L12 (-22.4984, -12.8306) -> (-21.0657, -12.8234) projected
  line L13 (-20.7235, -13.3463) -> (-21.4078, -14.6436) projected
  line L14 (-21.4078, -14.6436) -> (-19.0627, -13.1905) projected
  line L15 (-18.7499, -13.6953) -> (-21.6577, -15.497) projected
  line L16 (-22.1246, -15.0076) -> (-21.3965, -13.3994) projected
  line L17 (-21.3965, -13.3994) -> (-23.1279, -13.3298) projected
  line L18 (-23.3942, -12.6944) -> (-20.4865, -10.8927) projected
  line L19 (-20.6563, -9.942) -> (-23.6894, -11.2268) projected
  line L20 (-23.6894, -11.2268) -> (-24.4445, -9.444) projected
  line L21 (-23.9063, -9.216) -> (-23.3743, -10.4719) projected
  line L22 (-23.3743, -10.4719) -> (-22.8189, -10.2367) projected
  line L23 (-22.8189, -10.2367) -> (-23.3171, -9.0605) projected
  line L24 (-22.7732, -8.8301) -> (-22.275, -10.0063) projected
  line L25 (-22.275, -10.0063) -> (-21.4235, -9.6456) projected
  line L26 (-21.4235, -9.6456) -> (-21.9554, -8.3897) projected
  line L27 (-21.4115, -8.1592) -> (-20.6563, -9.942) projected
  line L28 (-22.9996, -2.7693) -> (-24.1563, -2.9392) projected
  line L29 (-24.1563, -2.9392) -> (-23.9877, -4.0867) projected
  line L30 (-23.9877, -4.0867) -> (-22.8311, -3.9168) projected
  line L31 (-22.7456, -4.4982) -> (-25.4599, -4.8969) projected
  line L32 (-25.5453, -4.3155) -> (-24.5722, -4.1726) projected
  line L33 (-24.5722, -4.1726) -> (-24.7408, -3.0251) projected
  line L34 (-24.7408, -3.0251) -> (-25.7139, -3.168) projected
  line L35 (-25.7984, -2.5928) -> (-23.0841, -2.194) projected
  line L36 (-22.6019, 5.055) -> (-25.2702, 5.6925) projected
  line L37 (-25.1336, 6.2641) -> (-22.4654, 5.6266) projected
  line L38 (-20.2013, 11.1035) -> (-20.641, 11.1451) projected
  line L39 (-20.641, 11.1451) -> (-21.2344, 9.9688) projected
  line L40 (-21.2344, 9.9688) -> (-20.9272, 9.6371) projected
  line L41 (-21.3656, 9.2486) -> (-23.4063, 11.4593) projected
  line L42 (-23.1527, 11.9688) -> (-20.1702, 11.694) projected
  line L43 (-19.469, 12.0936) -> (-21.9443, 13.7831) projected
  line L44 (-21.6218, 14.2557) -> (-19.6343, 12.8992) projected
  line L45 (-19.6343, 12.8992) -> (-18.8654, 14.0258) projected
  line L46 (-18.3775, 13.6927) -> (-19.469, 12.0936) projected
  circle A0 centre (0, 0) radius 20.9931 projected
  arc A1 (-26.1445, 9.9619) -> (-27.6227, 4.445) centre (0, 0) ccw projected
  arc A2 (-27.6227, 4.445) -> (-27.6227, -4.445) centre (0, 0) ccw projected
  arc A3 (-27.6227, -4.445) -> (-26.1445, -9.9619) centre (0, 0) ccw projected
  arc A4 (-26.1445, -9.9619) -> (-21.6995, -17.6609) centre (0, 0) ccw projected
  arc A5 (-21.6995, -17.6609) -> (-17.6609, -21.6995) centre (0, 0) ccw projected
  arc A6 (-17.6609, -21.6995) -> (-9.9619, -26.1445) centre (0, 0) ccw projected
  arc A7 (-9.9619, -26.1445) -> (-4.445, -27.6227) centre (0, 0) ccw projected
  arc A8 (-4.445, -27.6227) -> (4.445, -27.6227) centre (0, 0) ccw projected
  arc A9 (4.445, -27.6227) -> (9.9619, -26.1445) centre (0, 0) ccw projected
  arc A10 (9.9619, -26.1445) -> (17.6609, -21.6995) centre (0, 0) ccw projected
  arc A11 (17.6609, -21.6995) -> (21.6995, -17.6609) centre (0, 0) ccw projected
  arc A12 (21.6995, -17.6609) -> (26.1445, -9.9619) centre (0, 0) ccw projected
  arc A13 (26.1445, -9.9619) -> (27.6227, -4.445) centre (0, 0) ccw projected
  arc A14 (27.6227, -4.445) -> (27.6227, 4.445) centre (0, 0) ccw projected
  arc A15 (27.6227, 4.445) -> (26.1445, 9.9619) centre (0, 0) ccw projected
  arc A16 (26.1445, 9.9619) -> (21.6995, 17.6609) centre (0, 0) ccw projected
  arc A17 (21.6995, 17.6609) -> (17.6609, 21.6995) centre (0, 0) ccw projected
  arc A18 (17.6609, 21.6995) -> (9.9619, 26.1445) centre (0, 0) ccw projected
  arc A19 (9.9619, 26.1445) -> (4.445, 27.6227) centre (0, 0) ccw projected
  arc A20 (4.445, 27.6227) -> (-4.445, 27.6227) centre (0, 0) ccw projected
  arc A21 (-4.445, 27.6227) -> (-9.9619, 26.1445) centre (0, 0) ccw projected
  arc A22 (-9.9619, 26.1445) -> (-17.6609, 21.6995) centre (0, 0) ccw projected
  arc A23 (-17.6609, 21.6995) -> (-21.6995, 17.6609) centre (0, 0) ccw projected
  arc A24 (-21.6995, 17.6609) -> (-26.1445, 9.9619) centre (0, 0) ccw projected
  circle A25 centre (0, 0) radius 18.4531 projected
  circle A26 centre (0, 0) radius 20.9931 projected
  circle A27 centre (24.1681, -3.81) radius 1.27
  circle A28 centre (24.1681, -3.81) radius 0.635
  line L47 (30.5181, 2.54) -> (30.5181, -2.54) projected
  arc A29 (17.9659, -17.8891) -> (17.3155, -16.3716) centre (19.0881, -16.51) ccw
  line L48 (19.0881, -16.51) -> (15.2571, -18.1519) construction
  line L49 (18.7629, -15.7512) -> (17.3155, -16.3716)
  line L50 (17.9659, -17.8891) -> (19.4133, -17.2688)
  arc A30 (19.4133, -17.2688) -> (18.7629, -15.7512) centre (19.0881, -16.51) ccw
  line L51 (19.0881, -16.51) -> (24.1681, -3.81) construction
  line L52 (19.1153, -14.7322) -> (23.17, -4.5954)
  line L53 (20.2945, -15.2039) -> (24.3492, -5.067)
  line L54 (0, 0) -> (36.9495, 0) construction
  arc A31 (26.1445, 9.9619) -> (21.6995, 17.6609) centre (0, 0) ccw
  arc A32 (27.6227, 4.445) -> (26.1445, 9.9619) centre (0, 0) ccw
  circle A33 centre (24.1681, 3.81) radius 1.27
  circle A34 centre (24.1681, 3.81) radius 0.635
  arc A35 (17.3155, 16.3716) -> (17.9659, 17.8891) centre (19.0881, 16.51) ccw
  line L55 (19.0881, 16.51) -> (15.2571, 18.1519) construction
  line L56 (18.7629, 15.7512) -> (17.3155, 16.3716)
  line L57 (17.9659, 17.8891) -> (19.4133, 17.2688)
  arc A36 (18.7629, 15.7512) -> (19.4133, 17.2688) centre (19.0881, 16.51) ccw
  line L58 (19.0881, 16.51) -> (24.1681, 3.81) construction
  line L59 (19.1153, 14.7322) -> (23.17, 4.5954)
  line L60 (20.2945, 15.2039) -> (24.3492, 5.067)
  point P0 (-21.5649, 7.5235)
  point P1 (-22.3696, 6.8841)
  point P2 (-23.5751, 6.9445)
  point P3 (-24.6635, 7.7463)
  point P4 (-24.7419, 8.6136)
  point P5 (-23.8777, 9.3503)
  point P6 (-23.7301, 9.3422)
  point P7 (-23.5475, 8.9689)
  point P8 (-23.8083, 8.7903)
  point P9 (-24.1792, 8.4336)
  point P10 (-24.1002, 7.9585)
  point P11 (-23.3884, 7.4887)
  point P12 (-22.1197, 7.7269)
  point P13 (-22.1984, 8.336)
  point P14 (-22.2743, 8.6105)
  point P15 (-21.8902, 8.7959)
  point P16 (-21.7348, 8.6674)
  point P17 (-22.5223, 3.9742)
  point P18 (-22.7793, 2.0739)
  point P19 (-26.109, 2.5148)
  point P20 (-25.837, 4.3881)
  point P21 (-23.1539, 1.2367)
  point P22 (-22.8643, 0.9323)
  point P23 (-22.8505, -1.2295)
  point P24 (-23.1301, -1.5313)
  point P25 (-26.2222, -0.1963)
  point P26 (-22.015, -6.0818)
  point P27 (-22.313, -7.0655)
  point P28 (-23.3387, -7.7016)
  point P29 (-24.69, -7.6614)
  point P30 (-25.2479, -6.9928)
  point P31 (-24.9563, -5.8953)
  point P32 (-24.8303, -5.818)
  point P33 (-24.4678, -6.0211)
  point P34 (-24.5806, -6.3164)
  point P35 (-24.6827, -6.8207)
  point P36 (-24.3475, -7.1664)
  point P37 (-23.4948, -7.1479)
  point P38 (-22.587, -6.2301)
  point P39 (-22.9983, -5.774)
  point P40 (-23.2168, -5.5914)
  point P41 (-23.0064, -5.2204)
  point P42 (-22.8056, -5.2377)
  point P43 (-20.0767, -10.9844)
  point P44 (-20.7343, -13.0001)
  point P45 (-18.6529, -13.2822)
  point P46 (-22.0936, -15.3923)
  point P47 (-23.5248, -13.1355)
  point P48 (-24.2914, -9.06)
  point P49 (-23.1616, -8.6822)
  point P50 (-21.8023, -8.0057)
  point P51 (-22.7455, -2.435)
  point P52 (-22.4915, -4.1639)
  point P53 (-25.7963, -4.6494)
  point P54 (-26.0503, -2.9205)
  point P55 (-22.2419, 5.2711)
  point P56 (-25.4907, 6.0473)
  point P57 (-20.0417, 11.6603)
  point P58 (-19.9228, 11.2574)
  point P59 (-20.8965, 9.3272)
  point P60 (-21.2829, 9.1861)
  point P61 (-23.4258, 11.7844)
  point P62 (-22.0274, 14.188)
  point P63 (-18.4597, 14.1045)
  point P64 (17.1726, -17.3309)
  point P65 (17.1726, 17.3309)
  dimension "d19" = 2.54
  dimension "d20" = 0.635
  dimension "d22" = 3.81
  dimension "d23" = 6.35
  dimension "d24" = 3.556
  dimension "d25" = 135
  dimension "d26" = 1.27
  dimension "d27" = 0.635
  dimension "d28" = 12.7
  dimension "d29" = 5.08
  dimension "d30" = 1.651
extrude "Extrusion3" cut sketch "Sketch4" along normal through all contours A33 | A33 L59 A35 L60 | A35 L56 A36 L57 keep common part
fillet "Fillet1" radius 3.175 4 edges at (20.2945, 2.8973, -15.2039) (19.1153, 3.0642, -14.7322) (24.3492, 2.9637, -5.067) (23.17, 3.1341, -4.5954)
sketch "Sketch5" plane through (0, 1.27, 0) normal (0, -1, 0) x (1, 0, 0)
  circle A0 centre (24.1681, -3.81) radius 0.635 projected
  arc A1 (22.7282, -5.6999) -> (22.9144, -4.0131) centre (19.7803, -4.5208) ccw projected
  line L0 (19.6739, -13.3357) -> (22.7282, -5.6999) projected
  arc A2 (18.2402, -14.9472) -> (19.6739, -13.3357) centre (16.726, -12.1565) ccw projected
  arc A3 (18.2402, -14.9472) -> (17.3155, -16.3716) centre (19.0881, -16.51) ccw projected
  line L1 (18.7629, -15.7512) -> (17.3155, -16.3716) projected
  arc A4 (19.4133, -17.2688) -> (18.7629, -15.7512) centre (19.0881, -16.51) ccw projected
  line L2 (17.9659, -17.8891) -> (19.4133, -17.2688) projected
  arc A5 (17.9659, -17.8891) -> (20.7799, -15.9631) centre (19.0881, -16.51) ccw projected
  arc A6 (20.8531, -13.8074) -> (20.7799, -15.9631) centre (23.801, -14.9865) ccw projected
  line L3 (23.9074, -6.1716) -> (20.8531, -13.8074) projected
  arc A7 (24.9359, -4.8216) -> (23.9074, -6.1716) centre (26.8553, -7.3508) ccw projected
  arc A8 (24.9359, -4.8216) -> (22.9144, -4.0131) centre (24.1681, -3.81) ccw projected
  point P0 (0, 0)
extrude "Extrusion4" add sketch "Sketch5" along normal blind 0.5
equation "\"d27\" = 0.5 * d26"
properties part number "Team Pin Mechanical-Right Wrench"
